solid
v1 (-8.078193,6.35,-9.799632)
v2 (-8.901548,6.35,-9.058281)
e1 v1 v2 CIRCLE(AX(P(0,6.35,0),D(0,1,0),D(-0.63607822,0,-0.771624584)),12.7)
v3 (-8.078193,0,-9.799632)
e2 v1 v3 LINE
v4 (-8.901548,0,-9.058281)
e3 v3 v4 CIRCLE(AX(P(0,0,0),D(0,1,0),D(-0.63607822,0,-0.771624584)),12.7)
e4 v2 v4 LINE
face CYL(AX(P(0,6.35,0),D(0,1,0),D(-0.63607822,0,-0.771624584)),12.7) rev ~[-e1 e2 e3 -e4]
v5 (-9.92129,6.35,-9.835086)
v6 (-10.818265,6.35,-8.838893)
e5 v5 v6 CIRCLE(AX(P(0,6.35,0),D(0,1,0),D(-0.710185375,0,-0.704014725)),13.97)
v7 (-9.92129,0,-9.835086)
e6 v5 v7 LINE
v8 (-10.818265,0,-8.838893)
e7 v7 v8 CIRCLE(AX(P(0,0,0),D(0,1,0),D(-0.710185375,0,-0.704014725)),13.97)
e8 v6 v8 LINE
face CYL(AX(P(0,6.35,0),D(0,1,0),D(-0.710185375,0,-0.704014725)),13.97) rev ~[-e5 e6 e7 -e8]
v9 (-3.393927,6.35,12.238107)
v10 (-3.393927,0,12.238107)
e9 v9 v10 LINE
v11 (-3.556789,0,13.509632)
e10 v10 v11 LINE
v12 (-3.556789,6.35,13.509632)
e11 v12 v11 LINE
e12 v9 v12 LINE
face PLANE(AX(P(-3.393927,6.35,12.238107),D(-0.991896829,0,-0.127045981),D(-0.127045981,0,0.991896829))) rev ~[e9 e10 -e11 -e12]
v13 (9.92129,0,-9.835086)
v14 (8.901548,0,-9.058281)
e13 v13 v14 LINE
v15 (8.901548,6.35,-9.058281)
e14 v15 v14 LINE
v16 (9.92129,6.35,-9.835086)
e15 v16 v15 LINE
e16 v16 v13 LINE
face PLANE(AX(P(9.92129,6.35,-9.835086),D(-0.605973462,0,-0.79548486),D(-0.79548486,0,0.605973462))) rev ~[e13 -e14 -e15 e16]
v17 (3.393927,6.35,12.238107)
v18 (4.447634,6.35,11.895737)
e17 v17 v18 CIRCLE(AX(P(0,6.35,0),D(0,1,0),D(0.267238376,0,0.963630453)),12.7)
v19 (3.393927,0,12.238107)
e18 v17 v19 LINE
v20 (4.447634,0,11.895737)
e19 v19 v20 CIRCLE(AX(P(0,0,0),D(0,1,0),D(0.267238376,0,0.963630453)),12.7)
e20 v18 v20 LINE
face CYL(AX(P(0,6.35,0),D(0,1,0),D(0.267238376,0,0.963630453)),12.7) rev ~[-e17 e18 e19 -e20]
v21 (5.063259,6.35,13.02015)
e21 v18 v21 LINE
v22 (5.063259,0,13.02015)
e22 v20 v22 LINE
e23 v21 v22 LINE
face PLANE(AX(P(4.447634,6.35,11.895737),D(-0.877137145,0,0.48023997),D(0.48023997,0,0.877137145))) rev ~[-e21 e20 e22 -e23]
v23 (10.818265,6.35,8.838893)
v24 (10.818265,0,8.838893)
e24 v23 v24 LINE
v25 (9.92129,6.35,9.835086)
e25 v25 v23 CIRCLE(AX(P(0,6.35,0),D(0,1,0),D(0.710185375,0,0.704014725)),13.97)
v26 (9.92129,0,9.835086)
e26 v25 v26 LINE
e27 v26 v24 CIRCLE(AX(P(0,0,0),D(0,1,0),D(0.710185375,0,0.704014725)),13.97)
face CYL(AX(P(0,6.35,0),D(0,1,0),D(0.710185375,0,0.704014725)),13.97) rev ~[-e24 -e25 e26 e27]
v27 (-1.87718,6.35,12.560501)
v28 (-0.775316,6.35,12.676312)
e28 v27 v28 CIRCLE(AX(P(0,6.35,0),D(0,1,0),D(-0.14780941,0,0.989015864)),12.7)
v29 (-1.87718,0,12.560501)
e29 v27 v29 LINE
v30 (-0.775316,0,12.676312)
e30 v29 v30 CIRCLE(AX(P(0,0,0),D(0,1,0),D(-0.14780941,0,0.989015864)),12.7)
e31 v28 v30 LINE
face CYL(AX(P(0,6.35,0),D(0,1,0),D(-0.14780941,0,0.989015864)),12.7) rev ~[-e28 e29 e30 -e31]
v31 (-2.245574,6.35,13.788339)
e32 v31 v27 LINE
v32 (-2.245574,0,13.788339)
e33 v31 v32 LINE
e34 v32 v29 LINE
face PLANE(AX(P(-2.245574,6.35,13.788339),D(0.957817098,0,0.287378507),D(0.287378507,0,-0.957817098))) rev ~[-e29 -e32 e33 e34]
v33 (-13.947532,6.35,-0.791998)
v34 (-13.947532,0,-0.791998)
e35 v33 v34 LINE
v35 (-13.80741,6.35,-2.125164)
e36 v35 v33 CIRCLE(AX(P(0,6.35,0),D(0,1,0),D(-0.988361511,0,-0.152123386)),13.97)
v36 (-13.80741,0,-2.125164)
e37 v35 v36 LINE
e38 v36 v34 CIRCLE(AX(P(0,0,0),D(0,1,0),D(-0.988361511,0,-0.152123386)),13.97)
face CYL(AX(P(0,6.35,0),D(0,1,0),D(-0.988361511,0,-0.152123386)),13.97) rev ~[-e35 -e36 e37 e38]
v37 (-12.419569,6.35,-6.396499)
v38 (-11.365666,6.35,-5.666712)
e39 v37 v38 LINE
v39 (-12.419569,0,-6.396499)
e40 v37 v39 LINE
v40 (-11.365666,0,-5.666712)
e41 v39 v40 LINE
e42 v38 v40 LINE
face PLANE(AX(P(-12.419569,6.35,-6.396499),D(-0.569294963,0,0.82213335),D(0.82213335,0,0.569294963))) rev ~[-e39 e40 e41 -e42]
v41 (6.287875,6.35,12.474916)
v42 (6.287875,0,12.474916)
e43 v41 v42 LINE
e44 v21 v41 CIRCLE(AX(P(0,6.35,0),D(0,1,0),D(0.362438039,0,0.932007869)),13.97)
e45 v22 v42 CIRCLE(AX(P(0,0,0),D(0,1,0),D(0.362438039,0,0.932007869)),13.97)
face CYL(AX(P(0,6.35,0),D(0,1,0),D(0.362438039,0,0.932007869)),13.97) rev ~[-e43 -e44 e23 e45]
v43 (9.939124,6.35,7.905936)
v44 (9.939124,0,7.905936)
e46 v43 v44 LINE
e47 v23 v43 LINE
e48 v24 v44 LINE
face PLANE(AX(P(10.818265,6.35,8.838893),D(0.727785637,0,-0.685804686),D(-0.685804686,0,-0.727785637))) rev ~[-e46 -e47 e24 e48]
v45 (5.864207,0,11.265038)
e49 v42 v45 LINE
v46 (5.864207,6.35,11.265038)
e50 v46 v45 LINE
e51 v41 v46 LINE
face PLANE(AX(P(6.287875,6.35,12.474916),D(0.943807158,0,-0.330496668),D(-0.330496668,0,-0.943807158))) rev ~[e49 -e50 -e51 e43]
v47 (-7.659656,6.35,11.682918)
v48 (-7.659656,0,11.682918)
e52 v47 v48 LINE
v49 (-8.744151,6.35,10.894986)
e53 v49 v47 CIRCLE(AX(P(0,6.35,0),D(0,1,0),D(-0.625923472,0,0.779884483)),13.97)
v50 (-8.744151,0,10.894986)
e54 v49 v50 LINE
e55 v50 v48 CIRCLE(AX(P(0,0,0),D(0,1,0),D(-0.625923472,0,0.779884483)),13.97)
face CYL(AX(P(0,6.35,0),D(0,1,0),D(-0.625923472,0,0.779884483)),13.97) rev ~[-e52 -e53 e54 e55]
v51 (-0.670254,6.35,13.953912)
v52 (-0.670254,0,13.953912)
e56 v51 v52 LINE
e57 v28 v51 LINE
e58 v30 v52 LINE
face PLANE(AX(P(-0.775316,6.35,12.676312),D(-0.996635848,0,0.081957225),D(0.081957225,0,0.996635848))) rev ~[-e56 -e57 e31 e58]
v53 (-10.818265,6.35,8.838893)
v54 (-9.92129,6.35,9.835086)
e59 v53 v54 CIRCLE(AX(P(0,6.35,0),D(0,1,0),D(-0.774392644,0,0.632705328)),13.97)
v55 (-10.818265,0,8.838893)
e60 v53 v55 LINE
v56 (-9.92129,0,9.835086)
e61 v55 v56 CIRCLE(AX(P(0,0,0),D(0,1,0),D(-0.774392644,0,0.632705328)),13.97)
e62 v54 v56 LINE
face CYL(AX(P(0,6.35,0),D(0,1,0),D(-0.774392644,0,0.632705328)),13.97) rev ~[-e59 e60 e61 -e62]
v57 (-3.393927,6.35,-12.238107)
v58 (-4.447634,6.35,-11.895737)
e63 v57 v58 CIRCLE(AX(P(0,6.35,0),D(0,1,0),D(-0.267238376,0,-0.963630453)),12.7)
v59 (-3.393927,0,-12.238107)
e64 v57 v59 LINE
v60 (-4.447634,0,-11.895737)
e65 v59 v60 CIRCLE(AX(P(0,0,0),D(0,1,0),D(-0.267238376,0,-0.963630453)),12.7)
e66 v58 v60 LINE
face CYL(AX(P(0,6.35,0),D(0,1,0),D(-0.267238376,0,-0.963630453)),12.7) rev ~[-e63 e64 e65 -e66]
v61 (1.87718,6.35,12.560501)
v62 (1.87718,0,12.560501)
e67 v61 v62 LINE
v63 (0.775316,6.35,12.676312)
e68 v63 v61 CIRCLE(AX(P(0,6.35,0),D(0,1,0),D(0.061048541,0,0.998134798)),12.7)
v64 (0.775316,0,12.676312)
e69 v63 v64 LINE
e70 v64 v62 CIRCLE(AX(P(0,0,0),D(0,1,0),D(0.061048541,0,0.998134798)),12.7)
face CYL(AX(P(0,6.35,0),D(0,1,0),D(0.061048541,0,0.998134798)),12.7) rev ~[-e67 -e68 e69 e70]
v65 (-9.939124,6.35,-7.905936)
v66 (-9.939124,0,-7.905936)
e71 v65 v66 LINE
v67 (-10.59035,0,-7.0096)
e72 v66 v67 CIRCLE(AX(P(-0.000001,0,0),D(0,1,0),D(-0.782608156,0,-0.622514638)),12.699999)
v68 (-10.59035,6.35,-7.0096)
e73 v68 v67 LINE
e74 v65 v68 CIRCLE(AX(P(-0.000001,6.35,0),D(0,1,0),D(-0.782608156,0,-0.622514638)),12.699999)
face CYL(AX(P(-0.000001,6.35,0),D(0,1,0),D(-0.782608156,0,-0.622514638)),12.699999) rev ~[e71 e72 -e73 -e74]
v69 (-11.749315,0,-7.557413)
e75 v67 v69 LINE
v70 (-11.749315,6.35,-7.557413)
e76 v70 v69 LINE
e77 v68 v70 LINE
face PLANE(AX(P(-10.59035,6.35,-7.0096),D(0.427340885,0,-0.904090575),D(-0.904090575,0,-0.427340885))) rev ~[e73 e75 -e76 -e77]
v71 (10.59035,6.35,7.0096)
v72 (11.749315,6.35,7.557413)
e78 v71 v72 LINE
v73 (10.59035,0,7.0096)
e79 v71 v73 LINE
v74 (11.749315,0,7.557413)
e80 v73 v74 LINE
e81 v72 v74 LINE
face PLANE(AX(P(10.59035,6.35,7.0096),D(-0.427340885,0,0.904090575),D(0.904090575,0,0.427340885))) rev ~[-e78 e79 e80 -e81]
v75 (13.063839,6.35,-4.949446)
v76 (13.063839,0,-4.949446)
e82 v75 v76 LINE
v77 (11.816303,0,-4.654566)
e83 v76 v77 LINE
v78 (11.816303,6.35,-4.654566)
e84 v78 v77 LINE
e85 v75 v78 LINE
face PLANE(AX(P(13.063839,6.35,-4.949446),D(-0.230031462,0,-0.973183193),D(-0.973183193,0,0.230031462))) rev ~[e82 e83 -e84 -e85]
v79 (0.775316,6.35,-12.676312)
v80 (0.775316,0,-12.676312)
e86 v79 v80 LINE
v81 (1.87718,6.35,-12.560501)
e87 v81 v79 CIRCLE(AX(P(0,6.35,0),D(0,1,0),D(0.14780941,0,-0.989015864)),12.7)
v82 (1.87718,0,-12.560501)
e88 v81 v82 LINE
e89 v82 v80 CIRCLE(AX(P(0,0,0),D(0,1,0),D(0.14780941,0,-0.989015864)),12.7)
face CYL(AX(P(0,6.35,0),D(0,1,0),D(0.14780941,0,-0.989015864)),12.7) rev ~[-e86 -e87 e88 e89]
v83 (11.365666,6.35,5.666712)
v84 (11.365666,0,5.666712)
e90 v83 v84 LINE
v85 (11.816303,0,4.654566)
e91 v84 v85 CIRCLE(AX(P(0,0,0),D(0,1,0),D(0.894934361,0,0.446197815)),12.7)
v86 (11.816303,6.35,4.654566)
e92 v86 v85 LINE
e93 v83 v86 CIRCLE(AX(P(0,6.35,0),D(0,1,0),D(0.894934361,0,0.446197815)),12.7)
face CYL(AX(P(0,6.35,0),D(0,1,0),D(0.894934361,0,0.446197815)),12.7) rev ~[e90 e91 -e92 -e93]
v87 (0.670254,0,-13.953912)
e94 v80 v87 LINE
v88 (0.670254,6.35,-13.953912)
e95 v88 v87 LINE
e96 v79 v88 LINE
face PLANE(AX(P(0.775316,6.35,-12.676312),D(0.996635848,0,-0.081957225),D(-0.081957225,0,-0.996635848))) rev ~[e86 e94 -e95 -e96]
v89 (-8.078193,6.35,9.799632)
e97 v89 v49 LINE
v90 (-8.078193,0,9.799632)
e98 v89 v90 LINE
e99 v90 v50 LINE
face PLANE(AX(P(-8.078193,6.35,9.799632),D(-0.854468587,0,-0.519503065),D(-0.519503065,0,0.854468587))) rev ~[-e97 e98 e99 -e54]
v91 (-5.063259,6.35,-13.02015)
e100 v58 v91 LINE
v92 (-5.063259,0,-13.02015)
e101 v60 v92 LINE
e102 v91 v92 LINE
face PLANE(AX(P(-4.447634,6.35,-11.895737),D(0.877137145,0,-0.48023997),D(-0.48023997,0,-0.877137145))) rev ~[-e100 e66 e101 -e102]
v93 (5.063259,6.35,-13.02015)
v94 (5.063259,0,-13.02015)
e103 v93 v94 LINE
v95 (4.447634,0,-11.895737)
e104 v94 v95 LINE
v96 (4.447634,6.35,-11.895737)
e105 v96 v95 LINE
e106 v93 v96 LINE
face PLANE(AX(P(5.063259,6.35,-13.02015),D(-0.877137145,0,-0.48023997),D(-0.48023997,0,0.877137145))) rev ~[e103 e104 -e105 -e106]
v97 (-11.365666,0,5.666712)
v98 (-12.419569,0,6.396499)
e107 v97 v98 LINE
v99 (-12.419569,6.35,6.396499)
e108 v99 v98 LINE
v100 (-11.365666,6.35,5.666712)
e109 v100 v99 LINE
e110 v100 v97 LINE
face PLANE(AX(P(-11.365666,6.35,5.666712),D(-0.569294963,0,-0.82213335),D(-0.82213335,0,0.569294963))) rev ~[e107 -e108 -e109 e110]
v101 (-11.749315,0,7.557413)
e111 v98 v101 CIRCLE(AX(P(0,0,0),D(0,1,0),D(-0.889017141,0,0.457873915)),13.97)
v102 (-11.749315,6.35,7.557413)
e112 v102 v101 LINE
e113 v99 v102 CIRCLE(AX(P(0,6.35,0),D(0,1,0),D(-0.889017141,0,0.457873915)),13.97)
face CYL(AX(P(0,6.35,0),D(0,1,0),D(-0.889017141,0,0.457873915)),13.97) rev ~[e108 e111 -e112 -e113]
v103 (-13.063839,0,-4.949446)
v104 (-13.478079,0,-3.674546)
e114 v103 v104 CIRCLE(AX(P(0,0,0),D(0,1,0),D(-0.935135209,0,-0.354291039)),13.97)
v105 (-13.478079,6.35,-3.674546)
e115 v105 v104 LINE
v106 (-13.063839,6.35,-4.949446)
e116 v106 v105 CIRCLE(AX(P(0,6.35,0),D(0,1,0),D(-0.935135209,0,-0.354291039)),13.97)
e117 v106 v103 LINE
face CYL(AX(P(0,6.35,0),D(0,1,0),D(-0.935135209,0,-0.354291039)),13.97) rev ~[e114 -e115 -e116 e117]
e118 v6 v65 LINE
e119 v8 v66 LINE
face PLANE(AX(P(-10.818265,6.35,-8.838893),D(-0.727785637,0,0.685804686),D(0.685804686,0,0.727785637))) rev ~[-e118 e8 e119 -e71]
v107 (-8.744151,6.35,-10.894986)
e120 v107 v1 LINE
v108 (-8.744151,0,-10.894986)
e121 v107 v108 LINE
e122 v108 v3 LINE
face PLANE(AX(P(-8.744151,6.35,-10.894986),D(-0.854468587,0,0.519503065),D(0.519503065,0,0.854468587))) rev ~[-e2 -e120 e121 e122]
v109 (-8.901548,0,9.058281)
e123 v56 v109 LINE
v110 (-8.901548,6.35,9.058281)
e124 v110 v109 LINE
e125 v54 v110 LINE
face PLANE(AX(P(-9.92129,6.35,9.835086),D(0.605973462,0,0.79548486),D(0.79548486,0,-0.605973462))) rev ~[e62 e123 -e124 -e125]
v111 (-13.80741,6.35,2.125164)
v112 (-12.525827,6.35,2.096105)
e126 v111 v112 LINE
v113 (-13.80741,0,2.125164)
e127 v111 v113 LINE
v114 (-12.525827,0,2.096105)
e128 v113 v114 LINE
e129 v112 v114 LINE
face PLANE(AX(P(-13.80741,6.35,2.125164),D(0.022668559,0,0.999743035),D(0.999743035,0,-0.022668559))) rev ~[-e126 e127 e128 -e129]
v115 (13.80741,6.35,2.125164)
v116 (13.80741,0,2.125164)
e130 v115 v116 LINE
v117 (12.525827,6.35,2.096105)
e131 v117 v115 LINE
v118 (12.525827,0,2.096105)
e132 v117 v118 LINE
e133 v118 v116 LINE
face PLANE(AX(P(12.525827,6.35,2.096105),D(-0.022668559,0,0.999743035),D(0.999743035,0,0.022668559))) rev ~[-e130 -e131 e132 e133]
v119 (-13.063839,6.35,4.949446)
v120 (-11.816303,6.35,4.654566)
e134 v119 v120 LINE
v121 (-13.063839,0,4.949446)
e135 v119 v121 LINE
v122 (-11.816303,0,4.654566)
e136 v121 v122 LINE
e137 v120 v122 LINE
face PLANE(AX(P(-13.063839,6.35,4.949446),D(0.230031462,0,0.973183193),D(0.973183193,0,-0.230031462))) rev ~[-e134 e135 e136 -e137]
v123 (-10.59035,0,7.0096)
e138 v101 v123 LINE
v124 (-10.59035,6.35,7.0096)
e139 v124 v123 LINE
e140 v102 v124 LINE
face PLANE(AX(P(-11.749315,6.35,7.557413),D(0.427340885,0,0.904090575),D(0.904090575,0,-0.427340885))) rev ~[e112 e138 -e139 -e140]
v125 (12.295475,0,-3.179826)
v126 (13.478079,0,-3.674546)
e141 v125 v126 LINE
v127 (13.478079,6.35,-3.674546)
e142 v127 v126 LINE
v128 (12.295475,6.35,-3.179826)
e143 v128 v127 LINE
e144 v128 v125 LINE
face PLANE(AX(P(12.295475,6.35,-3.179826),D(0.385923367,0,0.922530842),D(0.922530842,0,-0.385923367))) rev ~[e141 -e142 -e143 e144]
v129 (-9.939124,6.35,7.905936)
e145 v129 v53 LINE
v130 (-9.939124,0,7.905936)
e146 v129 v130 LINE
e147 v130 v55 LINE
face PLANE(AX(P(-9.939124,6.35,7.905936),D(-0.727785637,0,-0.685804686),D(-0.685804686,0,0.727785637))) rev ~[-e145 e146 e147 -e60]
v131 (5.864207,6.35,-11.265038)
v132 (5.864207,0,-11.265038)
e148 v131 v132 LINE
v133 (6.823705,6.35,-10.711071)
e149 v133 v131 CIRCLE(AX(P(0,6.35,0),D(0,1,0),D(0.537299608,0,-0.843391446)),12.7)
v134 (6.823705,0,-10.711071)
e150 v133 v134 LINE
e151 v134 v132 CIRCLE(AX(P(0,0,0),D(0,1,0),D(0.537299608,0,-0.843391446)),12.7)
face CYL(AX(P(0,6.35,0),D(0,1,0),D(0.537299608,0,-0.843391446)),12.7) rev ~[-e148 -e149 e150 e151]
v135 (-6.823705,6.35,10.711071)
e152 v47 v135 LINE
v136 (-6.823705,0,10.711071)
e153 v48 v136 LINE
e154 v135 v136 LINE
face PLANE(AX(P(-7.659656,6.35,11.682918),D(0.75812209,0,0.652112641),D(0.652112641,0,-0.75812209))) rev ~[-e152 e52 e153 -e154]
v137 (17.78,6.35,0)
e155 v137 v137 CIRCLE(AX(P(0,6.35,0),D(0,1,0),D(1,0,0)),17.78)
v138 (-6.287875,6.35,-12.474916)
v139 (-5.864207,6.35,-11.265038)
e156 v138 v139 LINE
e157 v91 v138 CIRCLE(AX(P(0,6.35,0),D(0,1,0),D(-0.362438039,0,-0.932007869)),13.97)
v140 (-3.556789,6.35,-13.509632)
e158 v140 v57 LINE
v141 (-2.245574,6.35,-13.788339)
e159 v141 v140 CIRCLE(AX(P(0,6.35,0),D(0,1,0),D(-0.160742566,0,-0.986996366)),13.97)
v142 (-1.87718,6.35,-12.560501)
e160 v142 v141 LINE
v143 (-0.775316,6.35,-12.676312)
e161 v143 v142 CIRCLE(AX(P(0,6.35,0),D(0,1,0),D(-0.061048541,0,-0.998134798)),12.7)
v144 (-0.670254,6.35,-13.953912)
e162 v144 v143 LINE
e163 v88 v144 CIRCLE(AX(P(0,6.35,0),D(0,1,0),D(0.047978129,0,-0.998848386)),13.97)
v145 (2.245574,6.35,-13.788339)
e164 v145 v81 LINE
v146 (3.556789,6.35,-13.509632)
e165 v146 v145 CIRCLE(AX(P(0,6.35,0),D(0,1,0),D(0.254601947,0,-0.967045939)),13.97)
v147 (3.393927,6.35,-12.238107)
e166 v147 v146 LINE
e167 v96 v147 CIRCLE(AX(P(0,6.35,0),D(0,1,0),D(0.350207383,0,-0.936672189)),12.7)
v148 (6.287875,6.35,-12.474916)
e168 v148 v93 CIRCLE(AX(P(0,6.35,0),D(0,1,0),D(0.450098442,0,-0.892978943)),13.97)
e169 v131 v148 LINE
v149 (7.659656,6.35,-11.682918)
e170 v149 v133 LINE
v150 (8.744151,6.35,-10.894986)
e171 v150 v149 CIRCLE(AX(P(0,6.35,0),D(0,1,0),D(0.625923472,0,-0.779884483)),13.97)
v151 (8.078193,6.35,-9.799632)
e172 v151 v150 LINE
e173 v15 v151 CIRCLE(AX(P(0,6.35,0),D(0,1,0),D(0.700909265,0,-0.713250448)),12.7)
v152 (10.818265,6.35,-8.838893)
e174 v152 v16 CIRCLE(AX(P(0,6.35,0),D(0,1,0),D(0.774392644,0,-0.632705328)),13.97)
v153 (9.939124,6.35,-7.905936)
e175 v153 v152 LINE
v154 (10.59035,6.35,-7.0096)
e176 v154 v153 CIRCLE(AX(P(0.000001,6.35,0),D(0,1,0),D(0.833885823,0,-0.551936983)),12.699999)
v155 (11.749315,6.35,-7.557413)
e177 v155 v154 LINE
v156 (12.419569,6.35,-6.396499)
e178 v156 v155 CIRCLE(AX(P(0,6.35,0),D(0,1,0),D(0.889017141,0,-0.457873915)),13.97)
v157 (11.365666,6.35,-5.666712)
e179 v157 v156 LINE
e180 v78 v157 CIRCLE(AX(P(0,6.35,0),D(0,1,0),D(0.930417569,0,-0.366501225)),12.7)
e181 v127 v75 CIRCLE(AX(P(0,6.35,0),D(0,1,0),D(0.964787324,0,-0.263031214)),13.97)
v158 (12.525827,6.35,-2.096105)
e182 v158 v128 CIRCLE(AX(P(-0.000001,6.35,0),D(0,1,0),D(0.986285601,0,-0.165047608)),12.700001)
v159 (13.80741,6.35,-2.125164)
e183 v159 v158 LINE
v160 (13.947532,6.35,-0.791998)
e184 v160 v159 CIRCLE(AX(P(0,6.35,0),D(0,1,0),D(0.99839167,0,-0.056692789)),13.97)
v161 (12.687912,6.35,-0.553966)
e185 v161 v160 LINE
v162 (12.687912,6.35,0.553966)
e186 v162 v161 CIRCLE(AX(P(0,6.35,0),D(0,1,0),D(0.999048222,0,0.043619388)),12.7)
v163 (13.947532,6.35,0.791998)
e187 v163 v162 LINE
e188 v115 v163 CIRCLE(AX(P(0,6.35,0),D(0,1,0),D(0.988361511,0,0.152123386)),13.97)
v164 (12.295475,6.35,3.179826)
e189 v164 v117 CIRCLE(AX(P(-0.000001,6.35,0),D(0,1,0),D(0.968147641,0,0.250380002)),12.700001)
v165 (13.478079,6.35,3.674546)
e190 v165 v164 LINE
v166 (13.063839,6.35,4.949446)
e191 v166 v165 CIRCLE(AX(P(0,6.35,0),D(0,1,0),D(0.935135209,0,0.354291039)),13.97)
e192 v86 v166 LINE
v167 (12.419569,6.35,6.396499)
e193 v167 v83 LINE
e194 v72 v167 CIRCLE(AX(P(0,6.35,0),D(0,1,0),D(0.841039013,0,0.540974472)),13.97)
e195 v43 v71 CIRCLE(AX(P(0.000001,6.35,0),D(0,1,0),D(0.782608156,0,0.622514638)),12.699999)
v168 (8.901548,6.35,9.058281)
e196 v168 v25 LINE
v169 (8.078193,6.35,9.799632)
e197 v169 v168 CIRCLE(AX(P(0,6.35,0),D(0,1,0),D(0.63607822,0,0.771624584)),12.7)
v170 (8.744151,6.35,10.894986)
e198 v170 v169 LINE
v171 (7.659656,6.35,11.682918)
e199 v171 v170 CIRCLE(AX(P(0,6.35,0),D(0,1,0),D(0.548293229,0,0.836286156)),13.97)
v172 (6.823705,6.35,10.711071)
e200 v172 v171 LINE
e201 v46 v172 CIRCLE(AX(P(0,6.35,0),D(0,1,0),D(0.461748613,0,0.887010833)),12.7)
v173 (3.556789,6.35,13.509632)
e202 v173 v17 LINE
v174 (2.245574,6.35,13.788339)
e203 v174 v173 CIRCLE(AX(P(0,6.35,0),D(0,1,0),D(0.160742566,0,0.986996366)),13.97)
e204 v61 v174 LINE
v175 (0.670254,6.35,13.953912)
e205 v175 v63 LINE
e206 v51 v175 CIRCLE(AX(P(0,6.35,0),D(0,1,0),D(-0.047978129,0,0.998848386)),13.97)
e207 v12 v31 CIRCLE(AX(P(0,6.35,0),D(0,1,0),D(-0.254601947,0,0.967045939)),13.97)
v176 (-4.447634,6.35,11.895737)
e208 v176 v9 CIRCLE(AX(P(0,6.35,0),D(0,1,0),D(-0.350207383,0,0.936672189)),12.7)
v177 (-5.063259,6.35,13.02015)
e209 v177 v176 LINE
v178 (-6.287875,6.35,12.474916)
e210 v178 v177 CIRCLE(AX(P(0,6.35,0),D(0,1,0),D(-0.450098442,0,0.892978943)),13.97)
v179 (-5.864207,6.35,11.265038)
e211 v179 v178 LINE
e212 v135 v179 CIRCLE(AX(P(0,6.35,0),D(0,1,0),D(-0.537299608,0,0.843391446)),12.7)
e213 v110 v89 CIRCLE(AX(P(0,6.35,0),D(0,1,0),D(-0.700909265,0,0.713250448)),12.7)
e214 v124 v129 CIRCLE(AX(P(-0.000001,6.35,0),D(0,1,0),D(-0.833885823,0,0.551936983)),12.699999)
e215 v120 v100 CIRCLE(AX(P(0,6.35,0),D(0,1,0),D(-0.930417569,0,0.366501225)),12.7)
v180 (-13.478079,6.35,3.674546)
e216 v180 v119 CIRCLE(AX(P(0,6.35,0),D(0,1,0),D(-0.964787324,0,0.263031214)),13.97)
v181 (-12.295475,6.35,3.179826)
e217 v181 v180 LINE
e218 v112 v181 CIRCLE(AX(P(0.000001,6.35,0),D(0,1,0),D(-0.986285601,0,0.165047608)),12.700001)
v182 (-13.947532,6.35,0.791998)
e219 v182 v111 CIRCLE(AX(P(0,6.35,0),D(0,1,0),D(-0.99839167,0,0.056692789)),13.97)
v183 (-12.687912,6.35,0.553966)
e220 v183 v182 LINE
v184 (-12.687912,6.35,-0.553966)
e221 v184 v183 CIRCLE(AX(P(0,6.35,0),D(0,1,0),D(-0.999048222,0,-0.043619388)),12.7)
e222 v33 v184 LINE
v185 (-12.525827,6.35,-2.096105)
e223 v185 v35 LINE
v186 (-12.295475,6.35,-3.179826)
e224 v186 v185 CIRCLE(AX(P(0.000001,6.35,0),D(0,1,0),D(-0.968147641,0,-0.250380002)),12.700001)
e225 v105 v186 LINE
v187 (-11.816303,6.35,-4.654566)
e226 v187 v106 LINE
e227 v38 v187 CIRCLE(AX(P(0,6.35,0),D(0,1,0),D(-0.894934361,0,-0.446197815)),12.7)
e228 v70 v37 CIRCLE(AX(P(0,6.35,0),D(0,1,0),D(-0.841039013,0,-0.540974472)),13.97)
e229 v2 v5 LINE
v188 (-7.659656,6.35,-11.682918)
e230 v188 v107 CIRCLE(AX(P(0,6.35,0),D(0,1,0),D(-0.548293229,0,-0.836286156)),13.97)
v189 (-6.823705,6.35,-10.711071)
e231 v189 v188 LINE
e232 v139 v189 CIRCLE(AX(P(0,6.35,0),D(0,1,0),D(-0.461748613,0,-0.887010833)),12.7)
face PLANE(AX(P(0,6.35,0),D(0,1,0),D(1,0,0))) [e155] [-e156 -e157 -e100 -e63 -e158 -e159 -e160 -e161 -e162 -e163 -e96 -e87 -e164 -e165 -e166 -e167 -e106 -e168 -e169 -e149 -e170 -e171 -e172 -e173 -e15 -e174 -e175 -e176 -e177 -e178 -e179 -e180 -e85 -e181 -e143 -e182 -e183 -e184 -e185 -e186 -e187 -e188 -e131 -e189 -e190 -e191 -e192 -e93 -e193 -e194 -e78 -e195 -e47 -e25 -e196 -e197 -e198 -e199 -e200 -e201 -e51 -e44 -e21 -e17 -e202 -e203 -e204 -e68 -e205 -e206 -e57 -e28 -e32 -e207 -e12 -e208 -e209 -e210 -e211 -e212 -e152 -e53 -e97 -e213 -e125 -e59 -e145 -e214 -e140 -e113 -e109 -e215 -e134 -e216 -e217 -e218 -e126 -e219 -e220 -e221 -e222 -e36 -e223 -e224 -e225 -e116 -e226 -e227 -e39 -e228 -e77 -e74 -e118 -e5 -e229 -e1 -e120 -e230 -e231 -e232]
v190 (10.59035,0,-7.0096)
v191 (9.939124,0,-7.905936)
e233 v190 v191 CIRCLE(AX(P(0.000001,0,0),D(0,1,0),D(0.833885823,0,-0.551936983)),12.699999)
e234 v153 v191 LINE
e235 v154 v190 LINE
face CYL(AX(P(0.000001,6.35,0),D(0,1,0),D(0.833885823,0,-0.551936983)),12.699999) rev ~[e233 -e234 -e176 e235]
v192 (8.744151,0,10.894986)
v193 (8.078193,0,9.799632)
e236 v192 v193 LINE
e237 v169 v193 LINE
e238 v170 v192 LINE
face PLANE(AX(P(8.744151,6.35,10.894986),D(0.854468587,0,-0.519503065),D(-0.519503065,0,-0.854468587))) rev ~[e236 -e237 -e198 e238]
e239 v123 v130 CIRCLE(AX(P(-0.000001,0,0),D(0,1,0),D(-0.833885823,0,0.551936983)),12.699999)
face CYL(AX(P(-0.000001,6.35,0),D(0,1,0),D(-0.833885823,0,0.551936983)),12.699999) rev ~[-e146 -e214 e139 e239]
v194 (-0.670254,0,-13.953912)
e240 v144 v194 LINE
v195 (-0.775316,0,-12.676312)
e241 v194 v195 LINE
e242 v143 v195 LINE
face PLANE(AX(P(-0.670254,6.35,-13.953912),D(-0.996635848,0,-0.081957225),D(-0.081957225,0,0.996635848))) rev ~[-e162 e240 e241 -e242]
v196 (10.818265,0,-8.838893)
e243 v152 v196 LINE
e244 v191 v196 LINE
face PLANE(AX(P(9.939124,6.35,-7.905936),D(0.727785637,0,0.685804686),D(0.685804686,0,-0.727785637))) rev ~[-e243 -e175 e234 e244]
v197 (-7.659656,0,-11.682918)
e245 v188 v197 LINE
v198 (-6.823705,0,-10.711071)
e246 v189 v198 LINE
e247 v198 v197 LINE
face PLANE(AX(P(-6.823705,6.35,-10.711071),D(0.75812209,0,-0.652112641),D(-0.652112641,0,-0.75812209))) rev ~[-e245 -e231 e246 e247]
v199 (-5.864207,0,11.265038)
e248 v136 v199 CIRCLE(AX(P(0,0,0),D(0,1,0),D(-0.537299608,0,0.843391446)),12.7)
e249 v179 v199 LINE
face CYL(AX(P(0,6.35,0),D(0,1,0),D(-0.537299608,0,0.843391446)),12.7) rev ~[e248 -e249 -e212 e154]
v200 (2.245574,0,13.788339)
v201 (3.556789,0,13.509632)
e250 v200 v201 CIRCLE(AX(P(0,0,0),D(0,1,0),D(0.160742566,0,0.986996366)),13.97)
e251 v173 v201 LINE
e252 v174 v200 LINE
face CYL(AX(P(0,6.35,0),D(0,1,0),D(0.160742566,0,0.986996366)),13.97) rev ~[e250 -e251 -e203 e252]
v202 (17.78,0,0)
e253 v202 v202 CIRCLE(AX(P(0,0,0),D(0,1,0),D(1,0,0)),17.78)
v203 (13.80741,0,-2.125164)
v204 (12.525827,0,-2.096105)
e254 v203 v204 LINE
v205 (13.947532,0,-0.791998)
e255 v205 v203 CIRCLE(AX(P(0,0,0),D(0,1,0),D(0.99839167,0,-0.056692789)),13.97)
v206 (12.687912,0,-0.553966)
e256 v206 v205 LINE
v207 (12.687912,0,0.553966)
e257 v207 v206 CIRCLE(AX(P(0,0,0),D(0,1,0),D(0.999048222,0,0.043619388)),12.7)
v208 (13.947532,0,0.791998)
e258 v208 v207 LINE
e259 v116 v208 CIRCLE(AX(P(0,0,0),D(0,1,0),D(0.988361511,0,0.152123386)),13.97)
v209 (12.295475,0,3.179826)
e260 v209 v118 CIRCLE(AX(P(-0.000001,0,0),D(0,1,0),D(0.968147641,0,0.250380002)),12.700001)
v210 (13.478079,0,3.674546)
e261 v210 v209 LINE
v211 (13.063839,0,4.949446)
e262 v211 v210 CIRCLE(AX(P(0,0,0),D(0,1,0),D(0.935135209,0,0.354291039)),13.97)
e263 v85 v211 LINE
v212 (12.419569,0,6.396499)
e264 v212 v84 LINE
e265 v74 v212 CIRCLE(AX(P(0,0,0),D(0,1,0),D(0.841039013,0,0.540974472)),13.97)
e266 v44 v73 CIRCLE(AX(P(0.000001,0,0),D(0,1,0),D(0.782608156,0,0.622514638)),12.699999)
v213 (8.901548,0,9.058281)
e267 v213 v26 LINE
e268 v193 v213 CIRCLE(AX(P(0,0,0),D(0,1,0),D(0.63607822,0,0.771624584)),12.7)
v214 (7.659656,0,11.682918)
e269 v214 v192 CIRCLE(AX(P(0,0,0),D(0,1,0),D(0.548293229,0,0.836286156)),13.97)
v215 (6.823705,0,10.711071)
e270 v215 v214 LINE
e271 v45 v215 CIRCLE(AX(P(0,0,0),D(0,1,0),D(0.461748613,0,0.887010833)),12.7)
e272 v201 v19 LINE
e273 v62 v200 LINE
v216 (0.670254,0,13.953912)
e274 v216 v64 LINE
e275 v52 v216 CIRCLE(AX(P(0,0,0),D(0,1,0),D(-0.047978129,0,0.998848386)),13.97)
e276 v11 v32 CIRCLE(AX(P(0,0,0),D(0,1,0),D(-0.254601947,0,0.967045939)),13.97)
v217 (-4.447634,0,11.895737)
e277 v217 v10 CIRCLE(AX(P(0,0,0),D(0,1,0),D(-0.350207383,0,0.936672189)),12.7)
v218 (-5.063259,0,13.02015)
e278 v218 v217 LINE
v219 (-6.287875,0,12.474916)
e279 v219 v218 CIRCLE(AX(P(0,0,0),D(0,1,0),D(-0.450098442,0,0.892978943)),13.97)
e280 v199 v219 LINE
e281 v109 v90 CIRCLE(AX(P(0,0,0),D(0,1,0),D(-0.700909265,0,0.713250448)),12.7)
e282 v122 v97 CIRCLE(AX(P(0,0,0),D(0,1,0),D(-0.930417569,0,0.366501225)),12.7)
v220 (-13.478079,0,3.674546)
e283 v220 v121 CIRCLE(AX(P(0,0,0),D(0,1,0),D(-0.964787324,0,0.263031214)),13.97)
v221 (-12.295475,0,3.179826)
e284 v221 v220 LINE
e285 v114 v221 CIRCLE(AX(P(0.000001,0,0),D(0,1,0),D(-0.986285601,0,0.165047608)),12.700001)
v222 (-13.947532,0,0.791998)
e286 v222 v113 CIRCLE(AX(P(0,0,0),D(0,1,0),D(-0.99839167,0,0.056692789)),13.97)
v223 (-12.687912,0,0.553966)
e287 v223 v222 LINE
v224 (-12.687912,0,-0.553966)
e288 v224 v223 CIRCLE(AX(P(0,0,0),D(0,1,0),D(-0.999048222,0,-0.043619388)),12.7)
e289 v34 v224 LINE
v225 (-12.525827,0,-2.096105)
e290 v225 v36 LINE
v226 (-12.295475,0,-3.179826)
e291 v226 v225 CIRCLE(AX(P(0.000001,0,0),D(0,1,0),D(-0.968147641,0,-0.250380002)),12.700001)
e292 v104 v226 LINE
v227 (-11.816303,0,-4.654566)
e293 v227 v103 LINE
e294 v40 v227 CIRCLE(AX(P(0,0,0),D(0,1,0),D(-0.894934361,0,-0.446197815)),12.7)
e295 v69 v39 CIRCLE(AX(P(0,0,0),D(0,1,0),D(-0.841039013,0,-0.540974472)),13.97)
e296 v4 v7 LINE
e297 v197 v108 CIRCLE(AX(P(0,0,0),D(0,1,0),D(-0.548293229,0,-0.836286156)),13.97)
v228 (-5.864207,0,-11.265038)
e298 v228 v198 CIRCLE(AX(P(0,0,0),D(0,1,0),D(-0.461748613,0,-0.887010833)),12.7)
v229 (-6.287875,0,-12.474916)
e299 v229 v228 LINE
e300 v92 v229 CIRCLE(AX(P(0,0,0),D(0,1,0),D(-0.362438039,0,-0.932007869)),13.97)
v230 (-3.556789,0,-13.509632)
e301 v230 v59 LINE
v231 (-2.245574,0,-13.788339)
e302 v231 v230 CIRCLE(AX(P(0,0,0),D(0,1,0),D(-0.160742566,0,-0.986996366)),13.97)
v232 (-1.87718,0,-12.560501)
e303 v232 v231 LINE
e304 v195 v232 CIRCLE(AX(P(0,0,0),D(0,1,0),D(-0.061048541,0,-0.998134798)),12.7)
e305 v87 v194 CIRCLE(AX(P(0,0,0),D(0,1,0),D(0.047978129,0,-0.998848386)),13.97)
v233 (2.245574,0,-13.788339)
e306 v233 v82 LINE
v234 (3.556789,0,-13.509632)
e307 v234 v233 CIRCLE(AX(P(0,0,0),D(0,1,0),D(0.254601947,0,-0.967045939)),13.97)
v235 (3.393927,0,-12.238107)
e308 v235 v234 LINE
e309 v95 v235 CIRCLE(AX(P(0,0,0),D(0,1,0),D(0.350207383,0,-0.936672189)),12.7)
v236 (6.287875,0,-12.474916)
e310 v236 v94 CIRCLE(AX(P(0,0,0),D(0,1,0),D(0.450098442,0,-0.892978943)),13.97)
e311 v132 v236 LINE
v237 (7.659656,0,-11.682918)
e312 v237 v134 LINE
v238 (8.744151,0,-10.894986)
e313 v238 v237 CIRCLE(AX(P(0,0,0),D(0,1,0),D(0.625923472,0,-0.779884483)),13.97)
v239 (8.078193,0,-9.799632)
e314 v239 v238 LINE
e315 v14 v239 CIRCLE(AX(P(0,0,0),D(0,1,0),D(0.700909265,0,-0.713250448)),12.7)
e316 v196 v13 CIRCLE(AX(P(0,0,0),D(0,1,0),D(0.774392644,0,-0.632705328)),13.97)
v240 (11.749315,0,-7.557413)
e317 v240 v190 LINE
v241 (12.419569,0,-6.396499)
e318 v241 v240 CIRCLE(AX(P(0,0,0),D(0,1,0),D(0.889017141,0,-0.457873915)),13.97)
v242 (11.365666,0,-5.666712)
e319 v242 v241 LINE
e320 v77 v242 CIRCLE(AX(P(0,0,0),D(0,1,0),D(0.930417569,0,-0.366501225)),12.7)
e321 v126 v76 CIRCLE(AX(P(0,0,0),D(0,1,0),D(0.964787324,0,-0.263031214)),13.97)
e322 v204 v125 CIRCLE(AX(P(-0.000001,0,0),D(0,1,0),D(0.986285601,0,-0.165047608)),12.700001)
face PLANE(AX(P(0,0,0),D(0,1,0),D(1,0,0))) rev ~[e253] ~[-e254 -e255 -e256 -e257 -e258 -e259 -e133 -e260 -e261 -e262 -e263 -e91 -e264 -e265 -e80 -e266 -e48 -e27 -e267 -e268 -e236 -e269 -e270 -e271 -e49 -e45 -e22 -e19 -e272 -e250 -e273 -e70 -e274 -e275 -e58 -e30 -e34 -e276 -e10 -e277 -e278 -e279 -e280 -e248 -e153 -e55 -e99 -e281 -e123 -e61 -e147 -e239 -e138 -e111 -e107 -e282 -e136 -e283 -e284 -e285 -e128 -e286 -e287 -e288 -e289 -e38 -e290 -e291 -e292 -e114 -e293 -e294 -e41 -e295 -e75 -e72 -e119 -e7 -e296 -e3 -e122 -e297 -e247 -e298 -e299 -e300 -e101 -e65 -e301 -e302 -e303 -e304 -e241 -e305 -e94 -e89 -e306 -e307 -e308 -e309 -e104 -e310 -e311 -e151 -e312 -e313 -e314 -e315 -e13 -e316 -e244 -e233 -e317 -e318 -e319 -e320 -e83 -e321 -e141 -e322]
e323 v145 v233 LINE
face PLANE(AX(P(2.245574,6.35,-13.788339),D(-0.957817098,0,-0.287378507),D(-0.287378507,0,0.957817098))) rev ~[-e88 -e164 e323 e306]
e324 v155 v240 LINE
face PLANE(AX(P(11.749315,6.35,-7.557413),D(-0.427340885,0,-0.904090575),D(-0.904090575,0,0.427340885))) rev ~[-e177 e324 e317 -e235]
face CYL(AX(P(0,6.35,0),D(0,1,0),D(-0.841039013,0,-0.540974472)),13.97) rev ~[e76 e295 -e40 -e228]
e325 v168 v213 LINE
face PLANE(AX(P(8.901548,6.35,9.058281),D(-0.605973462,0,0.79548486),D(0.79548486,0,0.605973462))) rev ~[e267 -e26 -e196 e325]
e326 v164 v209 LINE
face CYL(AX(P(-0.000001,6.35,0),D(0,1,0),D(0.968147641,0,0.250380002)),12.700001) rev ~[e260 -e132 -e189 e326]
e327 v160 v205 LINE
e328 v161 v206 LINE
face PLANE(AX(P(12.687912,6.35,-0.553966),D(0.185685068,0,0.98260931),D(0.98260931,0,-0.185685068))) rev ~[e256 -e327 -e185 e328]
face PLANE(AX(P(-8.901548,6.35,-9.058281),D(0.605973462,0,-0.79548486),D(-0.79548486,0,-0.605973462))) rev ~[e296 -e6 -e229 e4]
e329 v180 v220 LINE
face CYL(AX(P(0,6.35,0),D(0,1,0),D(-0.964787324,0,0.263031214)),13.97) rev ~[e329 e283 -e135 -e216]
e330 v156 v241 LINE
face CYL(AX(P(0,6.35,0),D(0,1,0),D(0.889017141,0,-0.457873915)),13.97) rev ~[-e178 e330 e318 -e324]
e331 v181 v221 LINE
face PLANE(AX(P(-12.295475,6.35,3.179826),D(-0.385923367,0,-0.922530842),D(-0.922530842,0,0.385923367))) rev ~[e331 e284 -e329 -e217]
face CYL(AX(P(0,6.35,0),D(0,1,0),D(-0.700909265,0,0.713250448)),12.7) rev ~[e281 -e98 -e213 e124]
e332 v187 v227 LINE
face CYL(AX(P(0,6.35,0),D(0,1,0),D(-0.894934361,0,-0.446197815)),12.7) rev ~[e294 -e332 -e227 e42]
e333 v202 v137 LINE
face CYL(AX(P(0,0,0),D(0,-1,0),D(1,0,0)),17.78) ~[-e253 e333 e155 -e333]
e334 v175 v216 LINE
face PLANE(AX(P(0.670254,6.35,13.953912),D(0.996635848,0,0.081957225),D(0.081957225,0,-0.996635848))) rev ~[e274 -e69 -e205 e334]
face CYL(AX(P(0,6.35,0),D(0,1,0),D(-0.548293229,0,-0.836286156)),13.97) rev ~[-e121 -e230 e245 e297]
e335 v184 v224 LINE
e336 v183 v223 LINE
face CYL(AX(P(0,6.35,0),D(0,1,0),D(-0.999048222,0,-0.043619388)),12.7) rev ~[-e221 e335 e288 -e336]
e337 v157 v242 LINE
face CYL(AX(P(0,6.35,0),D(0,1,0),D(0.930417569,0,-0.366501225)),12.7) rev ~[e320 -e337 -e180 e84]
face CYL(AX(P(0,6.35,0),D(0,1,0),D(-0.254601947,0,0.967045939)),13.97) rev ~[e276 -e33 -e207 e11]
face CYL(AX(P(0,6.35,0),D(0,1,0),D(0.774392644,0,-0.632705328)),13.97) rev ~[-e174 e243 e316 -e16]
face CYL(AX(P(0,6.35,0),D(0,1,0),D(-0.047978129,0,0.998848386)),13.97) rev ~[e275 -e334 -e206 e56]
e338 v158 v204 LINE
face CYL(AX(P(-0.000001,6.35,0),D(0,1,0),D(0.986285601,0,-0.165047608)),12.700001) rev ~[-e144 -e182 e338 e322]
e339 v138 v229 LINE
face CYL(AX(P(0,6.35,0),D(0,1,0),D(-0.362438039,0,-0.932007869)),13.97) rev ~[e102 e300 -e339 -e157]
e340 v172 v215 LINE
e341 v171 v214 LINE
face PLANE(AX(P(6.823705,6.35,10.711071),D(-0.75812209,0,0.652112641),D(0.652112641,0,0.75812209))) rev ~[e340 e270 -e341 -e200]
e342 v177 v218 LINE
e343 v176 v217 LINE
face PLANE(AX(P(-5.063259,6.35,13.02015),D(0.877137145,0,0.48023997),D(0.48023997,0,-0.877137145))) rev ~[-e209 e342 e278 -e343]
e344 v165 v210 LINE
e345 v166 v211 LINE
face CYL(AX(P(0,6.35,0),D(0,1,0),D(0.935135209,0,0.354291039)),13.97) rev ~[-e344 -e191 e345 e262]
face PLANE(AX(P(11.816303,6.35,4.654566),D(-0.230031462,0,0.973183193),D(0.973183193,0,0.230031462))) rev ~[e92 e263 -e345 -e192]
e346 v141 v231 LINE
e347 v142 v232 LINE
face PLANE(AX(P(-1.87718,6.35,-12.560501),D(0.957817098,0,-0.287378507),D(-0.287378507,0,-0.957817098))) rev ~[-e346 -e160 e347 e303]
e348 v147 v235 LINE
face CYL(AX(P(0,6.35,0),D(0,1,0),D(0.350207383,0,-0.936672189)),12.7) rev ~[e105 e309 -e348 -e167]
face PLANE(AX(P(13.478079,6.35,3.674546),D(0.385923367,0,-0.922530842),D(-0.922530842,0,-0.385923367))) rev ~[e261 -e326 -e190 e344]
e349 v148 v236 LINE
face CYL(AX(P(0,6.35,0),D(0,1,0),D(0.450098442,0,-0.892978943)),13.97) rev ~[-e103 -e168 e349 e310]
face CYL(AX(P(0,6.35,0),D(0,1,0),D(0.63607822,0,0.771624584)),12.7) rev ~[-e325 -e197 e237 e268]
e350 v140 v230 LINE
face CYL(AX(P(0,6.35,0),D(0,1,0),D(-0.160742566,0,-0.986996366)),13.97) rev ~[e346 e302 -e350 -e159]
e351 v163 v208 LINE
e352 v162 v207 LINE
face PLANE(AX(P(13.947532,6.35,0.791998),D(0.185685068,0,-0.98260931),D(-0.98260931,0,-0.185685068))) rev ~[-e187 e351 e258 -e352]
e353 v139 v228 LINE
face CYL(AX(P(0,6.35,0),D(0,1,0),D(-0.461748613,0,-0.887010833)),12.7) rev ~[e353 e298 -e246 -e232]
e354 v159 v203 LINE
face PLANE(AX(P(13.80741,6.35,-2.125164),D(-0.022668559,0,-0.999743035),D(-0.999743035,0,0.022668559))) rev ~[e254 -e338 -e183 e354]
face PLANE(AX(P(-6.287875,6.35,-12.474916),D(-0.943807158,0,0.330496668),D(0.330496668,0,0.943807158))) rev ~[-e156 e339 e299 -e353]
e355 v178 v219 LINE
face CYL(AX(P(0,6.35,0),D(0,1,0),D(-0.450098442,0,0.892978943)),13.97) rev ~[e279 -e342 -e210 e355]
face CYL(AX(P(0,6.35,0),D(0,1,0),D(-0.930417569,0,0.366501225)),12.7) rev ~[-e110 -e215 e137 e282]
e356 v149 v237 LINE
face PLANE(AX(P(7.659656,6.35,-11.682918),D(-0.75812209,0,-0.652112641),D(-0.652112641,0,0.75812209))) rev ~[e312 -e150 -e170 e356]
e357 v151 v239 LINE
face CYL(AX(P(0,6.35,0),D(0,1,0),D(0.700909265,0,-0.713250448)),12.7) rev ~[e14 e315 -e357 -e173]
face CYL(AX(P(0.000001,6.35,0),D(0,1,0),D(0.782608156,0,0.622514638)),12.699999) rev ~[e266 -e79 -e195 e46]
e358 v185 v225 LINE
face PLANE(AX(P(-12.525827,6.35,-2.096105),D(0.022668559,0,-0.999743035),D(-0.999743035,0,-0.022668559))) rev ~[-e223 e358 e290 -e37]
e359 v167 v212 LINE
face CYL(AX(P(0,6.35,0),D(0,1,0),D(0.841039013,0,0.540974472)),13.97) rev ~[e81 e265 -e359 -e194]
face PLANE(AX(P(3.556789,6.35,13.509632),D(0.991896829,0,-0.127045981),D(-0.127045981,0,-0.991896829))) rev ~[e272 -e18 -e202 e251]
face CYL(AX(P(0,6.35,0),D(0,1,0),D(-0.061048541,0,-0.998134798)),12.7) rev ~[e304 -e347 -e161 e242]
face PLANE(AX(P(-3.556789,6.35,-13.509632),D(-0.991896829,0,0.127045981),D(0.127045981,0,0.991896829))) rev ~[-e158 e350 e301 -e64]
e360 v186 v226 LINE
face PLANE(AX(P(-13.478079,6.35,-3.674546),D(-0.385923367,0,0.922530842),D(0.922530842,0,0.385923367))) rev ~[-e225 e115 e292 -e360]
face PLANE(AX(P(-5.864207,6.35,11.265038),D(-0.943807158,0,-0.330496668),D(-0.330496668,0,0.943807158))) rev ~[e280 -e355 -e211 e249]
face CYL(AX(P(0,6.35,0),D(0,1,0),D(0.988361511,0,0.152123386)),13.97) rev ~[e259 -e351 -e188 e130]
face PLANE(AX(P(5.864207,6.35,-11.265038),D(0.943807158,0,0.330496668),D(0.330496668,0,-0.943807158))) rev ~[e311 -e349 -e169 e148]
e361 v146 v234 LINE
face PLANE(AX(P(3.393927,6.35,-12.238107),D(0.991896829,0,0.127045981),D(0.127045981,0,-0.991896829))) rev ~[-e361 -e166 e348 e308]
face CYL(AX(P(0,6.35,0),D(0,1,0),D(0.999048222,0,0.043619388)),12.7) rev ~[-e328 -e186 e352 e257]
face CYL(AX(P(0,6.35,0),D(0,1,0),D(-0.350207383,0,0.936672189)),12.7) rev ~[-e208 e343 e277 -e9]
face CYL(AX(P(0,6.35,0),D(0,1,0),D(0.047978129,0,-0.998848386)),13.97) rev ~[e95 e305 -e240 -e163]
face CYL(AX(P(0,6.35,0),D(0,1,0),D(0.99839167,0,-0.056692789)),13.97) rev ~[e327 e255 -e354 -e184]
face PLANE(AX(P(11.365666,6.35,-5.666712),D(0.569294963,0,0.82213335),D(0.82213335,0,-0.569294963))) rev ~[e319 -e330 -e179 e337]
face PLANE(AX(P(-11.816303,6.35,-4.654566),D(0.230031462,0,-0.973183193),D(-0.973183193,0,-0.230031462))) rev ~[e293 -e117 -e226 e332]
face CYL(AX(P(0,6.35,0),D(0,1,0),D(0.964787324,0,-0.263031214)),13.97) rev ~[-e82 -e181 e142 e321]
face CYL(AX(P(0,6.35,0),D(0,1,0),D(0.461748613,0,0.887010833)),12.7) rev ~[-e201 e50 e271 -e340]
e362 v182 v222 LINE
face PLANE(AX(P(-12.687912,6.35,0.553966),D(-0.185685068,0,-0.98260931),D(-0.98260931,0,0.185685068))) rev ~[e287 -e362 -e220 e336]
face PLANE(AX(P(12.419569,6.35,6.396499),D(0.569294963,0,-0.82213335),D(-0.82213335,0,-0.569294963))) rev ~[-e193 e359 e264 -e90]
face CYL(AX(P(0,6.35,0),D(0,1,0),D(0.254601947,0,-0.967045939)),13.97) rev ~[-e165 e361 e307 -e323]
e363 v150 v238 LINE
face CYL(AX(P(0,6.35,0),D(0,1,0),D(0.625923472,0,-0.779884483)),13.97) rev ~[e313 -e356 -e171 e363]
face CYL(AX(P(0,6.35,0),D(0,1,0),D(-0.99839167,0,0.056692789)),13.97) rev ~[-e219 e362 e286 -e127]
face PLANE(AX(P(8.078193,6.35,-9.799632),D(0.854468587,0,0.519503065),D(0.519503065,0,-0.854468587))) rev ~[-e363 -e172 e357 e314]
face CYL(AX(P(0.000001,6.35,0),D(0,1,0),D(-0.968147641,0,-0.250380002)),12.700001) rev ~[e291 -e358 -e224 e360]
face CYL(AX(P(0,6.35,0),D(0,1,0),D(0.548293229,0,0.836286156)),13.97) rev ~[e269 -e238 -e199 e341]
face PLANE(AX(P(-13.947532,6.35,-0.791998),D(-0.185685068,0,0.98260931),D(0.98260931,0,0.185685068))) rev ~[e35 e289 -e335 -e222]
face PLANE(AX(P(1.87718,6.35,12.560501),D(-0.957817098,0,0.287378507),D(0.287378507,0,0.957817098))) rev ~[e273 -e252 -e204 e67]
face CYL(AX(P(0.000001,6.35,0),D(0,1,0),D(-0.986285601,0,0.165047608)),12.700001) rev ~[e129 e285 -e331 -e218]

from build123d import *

# Parameters (mm, degrees)
SKETCH1_R           = 17.78
BOSS_EXTRUDE1_DEPTH = 6.35
CUT_EXTRUDE1_DEPTH  = 7.35


with BuildPart() as part:
    # Sketch1 → Boss-Extrude1 (new body)
    with BuildSketch(Plane(origin=(0, 0, 0), x_dir=(1, 0, 0), z_dir=(0, 1, 0))):
        Circle(SKETCH1_R)
    extrude(amount=BOSS_EXTRUDE1_DEPTH)

    # Sketch2 → Cut-Extrude1 (cut, through all)
    with BuildSketch(Plane(origin=(0, 6.35, 0), x_dir=(1, 0, 0), z_dir=(0, 1, 0))):
        with BuildLine():
            Line((-0.670254455, 13.953911959), (-0.775316452, 12.67631194))
            ThreePointArc((-0.775316452, 12.67631194), (-1.327511483, 12.630428071), (-1.877179521, 12.560501465))
            Line((-1.877179521, 12.560501465), (-2.245573641, 13.788339241))
            ThreePointArc((-2.245573641, 13.788339241), (-2.904526321, 13.664721982), (-3.556789216, 13.509631767))
            Line((-3.556789216, 13.509631767), (-3.393927376, 12.238106756))
            ThreePointArc((-3.393927376, 12.238106756), (-3.924515829, 12.078417757), (-4.447633742, 11.895736803))
            Line((-4.447633742, 11.895736803), (-5.063259395, 13.020149934))
            ThreePointArc((-5.063259395, 13.020149934), (-5.682110904, 12.762230043), (-6.287875221, 12.474915839))
            Line((-6.287875221, 12.474915839), (-5.864207388, 11.265037581))
            ThreePointArc((-5.864207388, 11.265037581), (-6.35, 10.998522628), (-6.823705026, 10.711071362))
            Line((-6.823705026, 10.711071362), (-7.659656416, 11.682917597))
            ThreePointArc((-7.659656416, 11.682917597), (-8.211359975, 11.301967411), (-8.744150906, 10.894986229))
            Line((-8.744150906, 10.894986229), (-8.078193398, 9.799632209))
            ThreePointArc((-8.078193398, 9.799632209), (-8.497958701, 9.437939284), (-8.901547657, 9.058280704))
            Line((-8.901547657, 9.058280704), (-9.921289697, 9.835085701))
            ThreePointArc((-9.921289697, 9.835085701), (-10.381733212, 9.347754571), (-10.818265238, 8.83889344))
            Line((-10.818265238, 8.83889344), (-9.939123592, 7.905935885))
            ThreePointArc((-9.939123592, 7.905935885), (-10.274515829, 7.464872704), (-10.59034994, 7.009599713))
            Line((-10.59034994, 7.009599713), (-11.749315011, 7.557413365))
            ThreePointArc((-11.749315011, 7.557413365), (-12.098374891, 6.985), (-12.419569467, 6.396498594))
            Line((-12.419569467, 6.396498594), (-11.365666392, 5.666712226))
            ThreePointArc((-11.365666392, 5.666712226), (-11.602027312, 5.165555367), (-11.816303113, 4.654565579))
            Line((-11.816303113, 4.654565579), (-13.063838879, 4.949445801))
            ThreePointArc((-13.063838879, 4.949445801), (-13.286259533, 4.316967411), (-13.478078914, 3.674546066))
            Line((-13.478078914, 3.674546066), (-12.295475033, 3.179826051))
            ThreePointArc((-12.295475033, 3.179826051), (-12.422474529, 2.640478473), (-12.52582714, 2.096104594))
            Line((-12.52582714, 2.096104594), (-13.807410301, 2.125163705))
            ThreePointArc((-13.807410301, 2.125163705), (-13.893470878, 1.460262632), (-13.947531638, 0.791998242))
            Line((-13.947531638, 0.791998242), (-12.687912414, 0.55396622))
            ThreePointArc((-12.687912414, 0.55396622), (-12.7, 0), (-12.687912414, -0.55396622))
            Line((-12.687912414, -0.55396622), (-13.947531638, -0.791998242))
            ThreePointArc((-13.947531638, -0.791998242), (-13.893470878, -1.460262632), (-13.807410301, -2.125163705))
            Line((-13.807410301, -2.125163705), (-12.52582714, -2.096104594))
            ThreePointArc((-12.52582714, -2.096104594), (-12.422474529, -2.640478473), (-12.295475033, -3.179826051))
            Line((-12.295475033, -3.179826051), (-13.478078914, -3.674546066))
            ThreePointArc((-13.478078914, -3.674546066), (-13.286259533, -4.316967411), (-13.063838879, -4.949445801))
            Line((-13.063838879, -4.949445801), (-11.816303113, -4.654565579))
            ThreePointArc((-11.816303113, -4.654565579), (-11.602027312, -5.165555367), (-11.365666392, -5.666712226))
            Line((-11.365666392, -5.666712226), (-12.419569467, -6.396498594))
            ThreePointArc((-12.419569467, -6.396498594), (-12.098374891, -6.985), (-11.749315011, -7.557413365))
            Line((-11.749315011, -7.557413365), (-10.59034994, -7.009599713))
            ThreePointArc((-10.59034994, -7.009599713), (-10.274515829, -7.464872704), (-9.939123592, -7.905935885))
            Line((-9.939123592, -7.905935885), (-10.818265238, -8.83889344))
            ThreePointArc((-10.818265238, -8.83889344), (-10.381733212, -9.347754571), (-9.921289697, -9.835085701))
            Line((-9.921289697, -9.835085701), (-8.901547657, -9.058280704))
            ThreePointArc((-8.901547657, -9.058280704), (-8.497958701, -9.437939284), (-8.078193398, -9.799632209))
            Line((-8.078193398, -9.799632209), (-8.744150906, -10.894986229))
            ThreePointArc((-8.744150906, -10.894986229), (-8.211359975, -11.301967411), (-7.659656416, -11.682917597))
            Line((-7.659656416, -11.682917597), (-6.823705026, -10.711071362))
            ThreePointArc((-6.823705026, -10.711071362), (-6.35, -10.998522628), (-5.864207388, -11.265037581))
            Line((-5.864207388, -11.265037581), (-6.287875221, -12.474915839))
            ThreePointArc((-6.287875221, -12.474915839), (-5.682110904, -12.762230043), (-5.063259395, -13.020149934))
            Line((-5.063259395, -13.020149934), (-4.447633742, -11.895736803))
            ThreePointArc((-4.447633742, -11.895736803), (-3.924515829, -12.078417757), (-3.393927376, -12.238106756))
            Line((-3.393927376, -12.238106756), (-3.556789216, -13.509631767))
            ThreePointArc((-3.556789216, -13.509631767), (-2.904526321, -13.664721982), (-2.245573641, -13.788339241))
            Line((-2.245573641, -13.788339241), (-1.877179521, -12.560501465))
            ThreePointArc((-1.877179521, -12.560501465), (-1.327511483, -12.630428071), (-0.775316452, -12.67631194))
            Line((-0.775316452, -12.67631194), (-0.670254455, -13.953911959))
            ThreePointArc((-0.670254455, -13.953911959), (0, -13.97), (0.670254455, -13.953911959))
            Line((0.670254455, -13.953911959), (0.775316452, -12.67631194))
            ThreePointArc((0.775316452, -12.67631194), (1.327511483, -12.630428071), (1.877179521, -12.560501465))
            Line((1.877179521, -12.560501465), (2.245573641, -13.788339241))
            ThreePointArc((2.245573641, -13.788339241), (2.904526321, -13.664721982), (3.556789216, -13.509631767))
            Line((3.556789216, -13.509631767), (3.393927376, -12.238106756))
            ThreePointArc((3.393927376, -12.238106756), (3.924515829, -12.078417757), (4.447633742, -11.895736803))
            Line((4.447633742, -11.895736803), (5.063259395, -13.020149934))
            ThreePointArc((5.063259395, -13.020149934), (5.682110904, -12.762230043), (6.287875221, -12.474915839))
            Line((6.287875221, -12.474915839), (5.864207388, -11.265037581))
            ThreePointArc((5.864207388, -11.265037581), (6.35, -10.998522628), (6.823705026, -10.711071362))
            Line((6.823705026, -10.711071362), (7.659656416, -11.682917597))
            ThreePointArc((7.659656416, -11.682917597), (8.211359975, -11.301967411), (8.744150906, -10.894986229))
            Line((8.744150906, -10.894986229), (8.078193398, -9.799632209))
            ThreePointArc((8.078193398, -9.799632209), (8.497958701, -9.437939284), (8.901547657, -9.058280704))
            Line((8.901547657, -9.058280704), (9.921289697, -9.835085701))
            ThreePointArc((9.921289697, -9.835085701), (10.381733212, -9.347754571), (10.818265238, -8.83889344))
            Line((10.818265238, -8.83889344), (9.939123592, -7.905935885))
            ThreePointArc((9.939123592, -7.905935885), (10.274515829, -7.464872704), (10.59034994, -7.009599713))
            Line((10.59034994, -7.009599713), (11.749315011, -7.557413365))
            ThreePointArc((11.749315011, -7.557413365), (12.098374891, -6.985), (12.419569467, -6.396498594))
            Line((12.419569467, -6.396498594), (11.365666392, -5.666712226))
            ThreePointArc((11.365666392, -5.666712226), (11.602027312, -5.165555367), (11.816303113, -4.654565579))
            Line((11.816303113, -4.654565579), (13.063838879, -4.949445801))
            ThreePointArc((13.063838879, -4.949445801), (13.286259533, -4.316967411), (13.478078914, -3.674546066))
            Line((13.478078914, -3.674546066), (12.295475033, -3.179826051))
            ThreePointArc((12.295475033, -3.179826051), (12.422474529, -2.640478473), (12.52582714, -2.096104594))
            Line((12.52582714, -2.096104594), (13.807410301, -2.125163705))
            ThreePointArc((13.807410301, -2.125163705), (13.893470878, -1.460262632), (13.947531638, -0.791998242))
            Line((13.947531638, -0.791998242), (12.687912414, -0.55396622))
            ThreePointArc((12.687912414, -0.55396622), (12.7, 0), (12.687912414, 0.55396622))
            Line((12.687912414, 0.55396622), (13.947531638, 0.791998242))
            ThreePointArc((13.947531638, 0.791998242), (13.893470878, 1.460262632), (13.807410301, 2.125163705))
            Line((13.807410301, 2.125163705), (12.52582714, 2.096104594))
            ThreePointArc((12.52582714, 2.096104594), (12.422474529, 2.640478473), (12.295475033, 3.179826051))
            Line((12.295475033, 3.179826051), (13.478078914, 3.674546066))
            ThreePointArc((13.478078914, 3.674546066), (13.286259533, 4.316967411), (13.063838879, 4.949445801))
            Line((13.063838879, 4.949445801), (11.816303113, 4.654565579))
            ThreePointArc((11.816303113, 4.654565579), (11.602027312, 5.165555367), (11.365666392, 5.666712226))
            Line((11.365666392, 5.666712226), (12.419569467, 6.396498594))
            ThreePointArc((12.419569467, 6.396498594), (12.098374891, 6.985), (11.749315011, 7.557413365))
            Line((11.749315011, 7.557413365), (10.59034994, 7.009599713))
            ThreePointArc((10.59034994, 7.009599713), (10.274515829, 7.464872704), (9.939123592, 7.905935885))
            Line((9.939123592, 7.905935885), (10.818265238, 8.83889344))
            ThreePointArc((10.818265238, 8.83889344), (10.381733212, 9.347754571), (9.921289697, 9.835085701))
            Line((9.921289697, 9.835085701), (8.901547657, 9.058280704))
            ThreePointArc((8.901547657, 9.058280704), (8.497958701, 9.437939284), (8.078193398, 9.799632209))
            Line((8.078193398, 9.799632209), (8.744150906, 10.894986229))
            ThreePointArc((8.744150906, 10.894986229), (8.211359975, 11.301967411), (7.659656416, 11.682917597))
            Line((7.659656416, 11.682917597), (6.823705026, 10.711071362))
            ThreePointArc((6.823705026, 10.711071362), (6.35, 10.998522628), (5.864207388, 11.265037581))
            Line((5.864207388, 11.265037581), (6.287875221, 12.474915839))
            ThreePointArc((6.287875221, 12.474915839), (5.682110904, 12.762230043), (5.063259395, 13.020149934))
            Line((5.063259395, 13.020149934), (4.447633742, 11.895736803))
            ThreePointArc((4.447633742, 11.895736803), (3.924515829, 12.078417757), (3.393927376, 12.238106756))
            Line((3.393927376, 12.238106756), (3.556789216, 13.509631767))
            ThreePointArc((3.556789216, 13.509631767), (2.904526321, 13.664721982), (2.245573641, 13.788339241))
            Line((2.245573641, 13.788339241), (1.877179521, 12.560501465))
            ThreePointArc((1.877179521, 12.560501465), (1.327511483, 12.630428071), (0.775316452, 12.67631194))
            Line((0.775316452, 12.67631194), (0.670254455, 13.953911959))
            ThreePointArc((0.670254455, 13.953911959), (0, 13.97), (-0.670254455, 13.953911959))
        make_face()
    extrude(amount=-CUT_EXTRUDE1_DEPTH, mode=Mode.SUBTRACT)


solid = part.part
